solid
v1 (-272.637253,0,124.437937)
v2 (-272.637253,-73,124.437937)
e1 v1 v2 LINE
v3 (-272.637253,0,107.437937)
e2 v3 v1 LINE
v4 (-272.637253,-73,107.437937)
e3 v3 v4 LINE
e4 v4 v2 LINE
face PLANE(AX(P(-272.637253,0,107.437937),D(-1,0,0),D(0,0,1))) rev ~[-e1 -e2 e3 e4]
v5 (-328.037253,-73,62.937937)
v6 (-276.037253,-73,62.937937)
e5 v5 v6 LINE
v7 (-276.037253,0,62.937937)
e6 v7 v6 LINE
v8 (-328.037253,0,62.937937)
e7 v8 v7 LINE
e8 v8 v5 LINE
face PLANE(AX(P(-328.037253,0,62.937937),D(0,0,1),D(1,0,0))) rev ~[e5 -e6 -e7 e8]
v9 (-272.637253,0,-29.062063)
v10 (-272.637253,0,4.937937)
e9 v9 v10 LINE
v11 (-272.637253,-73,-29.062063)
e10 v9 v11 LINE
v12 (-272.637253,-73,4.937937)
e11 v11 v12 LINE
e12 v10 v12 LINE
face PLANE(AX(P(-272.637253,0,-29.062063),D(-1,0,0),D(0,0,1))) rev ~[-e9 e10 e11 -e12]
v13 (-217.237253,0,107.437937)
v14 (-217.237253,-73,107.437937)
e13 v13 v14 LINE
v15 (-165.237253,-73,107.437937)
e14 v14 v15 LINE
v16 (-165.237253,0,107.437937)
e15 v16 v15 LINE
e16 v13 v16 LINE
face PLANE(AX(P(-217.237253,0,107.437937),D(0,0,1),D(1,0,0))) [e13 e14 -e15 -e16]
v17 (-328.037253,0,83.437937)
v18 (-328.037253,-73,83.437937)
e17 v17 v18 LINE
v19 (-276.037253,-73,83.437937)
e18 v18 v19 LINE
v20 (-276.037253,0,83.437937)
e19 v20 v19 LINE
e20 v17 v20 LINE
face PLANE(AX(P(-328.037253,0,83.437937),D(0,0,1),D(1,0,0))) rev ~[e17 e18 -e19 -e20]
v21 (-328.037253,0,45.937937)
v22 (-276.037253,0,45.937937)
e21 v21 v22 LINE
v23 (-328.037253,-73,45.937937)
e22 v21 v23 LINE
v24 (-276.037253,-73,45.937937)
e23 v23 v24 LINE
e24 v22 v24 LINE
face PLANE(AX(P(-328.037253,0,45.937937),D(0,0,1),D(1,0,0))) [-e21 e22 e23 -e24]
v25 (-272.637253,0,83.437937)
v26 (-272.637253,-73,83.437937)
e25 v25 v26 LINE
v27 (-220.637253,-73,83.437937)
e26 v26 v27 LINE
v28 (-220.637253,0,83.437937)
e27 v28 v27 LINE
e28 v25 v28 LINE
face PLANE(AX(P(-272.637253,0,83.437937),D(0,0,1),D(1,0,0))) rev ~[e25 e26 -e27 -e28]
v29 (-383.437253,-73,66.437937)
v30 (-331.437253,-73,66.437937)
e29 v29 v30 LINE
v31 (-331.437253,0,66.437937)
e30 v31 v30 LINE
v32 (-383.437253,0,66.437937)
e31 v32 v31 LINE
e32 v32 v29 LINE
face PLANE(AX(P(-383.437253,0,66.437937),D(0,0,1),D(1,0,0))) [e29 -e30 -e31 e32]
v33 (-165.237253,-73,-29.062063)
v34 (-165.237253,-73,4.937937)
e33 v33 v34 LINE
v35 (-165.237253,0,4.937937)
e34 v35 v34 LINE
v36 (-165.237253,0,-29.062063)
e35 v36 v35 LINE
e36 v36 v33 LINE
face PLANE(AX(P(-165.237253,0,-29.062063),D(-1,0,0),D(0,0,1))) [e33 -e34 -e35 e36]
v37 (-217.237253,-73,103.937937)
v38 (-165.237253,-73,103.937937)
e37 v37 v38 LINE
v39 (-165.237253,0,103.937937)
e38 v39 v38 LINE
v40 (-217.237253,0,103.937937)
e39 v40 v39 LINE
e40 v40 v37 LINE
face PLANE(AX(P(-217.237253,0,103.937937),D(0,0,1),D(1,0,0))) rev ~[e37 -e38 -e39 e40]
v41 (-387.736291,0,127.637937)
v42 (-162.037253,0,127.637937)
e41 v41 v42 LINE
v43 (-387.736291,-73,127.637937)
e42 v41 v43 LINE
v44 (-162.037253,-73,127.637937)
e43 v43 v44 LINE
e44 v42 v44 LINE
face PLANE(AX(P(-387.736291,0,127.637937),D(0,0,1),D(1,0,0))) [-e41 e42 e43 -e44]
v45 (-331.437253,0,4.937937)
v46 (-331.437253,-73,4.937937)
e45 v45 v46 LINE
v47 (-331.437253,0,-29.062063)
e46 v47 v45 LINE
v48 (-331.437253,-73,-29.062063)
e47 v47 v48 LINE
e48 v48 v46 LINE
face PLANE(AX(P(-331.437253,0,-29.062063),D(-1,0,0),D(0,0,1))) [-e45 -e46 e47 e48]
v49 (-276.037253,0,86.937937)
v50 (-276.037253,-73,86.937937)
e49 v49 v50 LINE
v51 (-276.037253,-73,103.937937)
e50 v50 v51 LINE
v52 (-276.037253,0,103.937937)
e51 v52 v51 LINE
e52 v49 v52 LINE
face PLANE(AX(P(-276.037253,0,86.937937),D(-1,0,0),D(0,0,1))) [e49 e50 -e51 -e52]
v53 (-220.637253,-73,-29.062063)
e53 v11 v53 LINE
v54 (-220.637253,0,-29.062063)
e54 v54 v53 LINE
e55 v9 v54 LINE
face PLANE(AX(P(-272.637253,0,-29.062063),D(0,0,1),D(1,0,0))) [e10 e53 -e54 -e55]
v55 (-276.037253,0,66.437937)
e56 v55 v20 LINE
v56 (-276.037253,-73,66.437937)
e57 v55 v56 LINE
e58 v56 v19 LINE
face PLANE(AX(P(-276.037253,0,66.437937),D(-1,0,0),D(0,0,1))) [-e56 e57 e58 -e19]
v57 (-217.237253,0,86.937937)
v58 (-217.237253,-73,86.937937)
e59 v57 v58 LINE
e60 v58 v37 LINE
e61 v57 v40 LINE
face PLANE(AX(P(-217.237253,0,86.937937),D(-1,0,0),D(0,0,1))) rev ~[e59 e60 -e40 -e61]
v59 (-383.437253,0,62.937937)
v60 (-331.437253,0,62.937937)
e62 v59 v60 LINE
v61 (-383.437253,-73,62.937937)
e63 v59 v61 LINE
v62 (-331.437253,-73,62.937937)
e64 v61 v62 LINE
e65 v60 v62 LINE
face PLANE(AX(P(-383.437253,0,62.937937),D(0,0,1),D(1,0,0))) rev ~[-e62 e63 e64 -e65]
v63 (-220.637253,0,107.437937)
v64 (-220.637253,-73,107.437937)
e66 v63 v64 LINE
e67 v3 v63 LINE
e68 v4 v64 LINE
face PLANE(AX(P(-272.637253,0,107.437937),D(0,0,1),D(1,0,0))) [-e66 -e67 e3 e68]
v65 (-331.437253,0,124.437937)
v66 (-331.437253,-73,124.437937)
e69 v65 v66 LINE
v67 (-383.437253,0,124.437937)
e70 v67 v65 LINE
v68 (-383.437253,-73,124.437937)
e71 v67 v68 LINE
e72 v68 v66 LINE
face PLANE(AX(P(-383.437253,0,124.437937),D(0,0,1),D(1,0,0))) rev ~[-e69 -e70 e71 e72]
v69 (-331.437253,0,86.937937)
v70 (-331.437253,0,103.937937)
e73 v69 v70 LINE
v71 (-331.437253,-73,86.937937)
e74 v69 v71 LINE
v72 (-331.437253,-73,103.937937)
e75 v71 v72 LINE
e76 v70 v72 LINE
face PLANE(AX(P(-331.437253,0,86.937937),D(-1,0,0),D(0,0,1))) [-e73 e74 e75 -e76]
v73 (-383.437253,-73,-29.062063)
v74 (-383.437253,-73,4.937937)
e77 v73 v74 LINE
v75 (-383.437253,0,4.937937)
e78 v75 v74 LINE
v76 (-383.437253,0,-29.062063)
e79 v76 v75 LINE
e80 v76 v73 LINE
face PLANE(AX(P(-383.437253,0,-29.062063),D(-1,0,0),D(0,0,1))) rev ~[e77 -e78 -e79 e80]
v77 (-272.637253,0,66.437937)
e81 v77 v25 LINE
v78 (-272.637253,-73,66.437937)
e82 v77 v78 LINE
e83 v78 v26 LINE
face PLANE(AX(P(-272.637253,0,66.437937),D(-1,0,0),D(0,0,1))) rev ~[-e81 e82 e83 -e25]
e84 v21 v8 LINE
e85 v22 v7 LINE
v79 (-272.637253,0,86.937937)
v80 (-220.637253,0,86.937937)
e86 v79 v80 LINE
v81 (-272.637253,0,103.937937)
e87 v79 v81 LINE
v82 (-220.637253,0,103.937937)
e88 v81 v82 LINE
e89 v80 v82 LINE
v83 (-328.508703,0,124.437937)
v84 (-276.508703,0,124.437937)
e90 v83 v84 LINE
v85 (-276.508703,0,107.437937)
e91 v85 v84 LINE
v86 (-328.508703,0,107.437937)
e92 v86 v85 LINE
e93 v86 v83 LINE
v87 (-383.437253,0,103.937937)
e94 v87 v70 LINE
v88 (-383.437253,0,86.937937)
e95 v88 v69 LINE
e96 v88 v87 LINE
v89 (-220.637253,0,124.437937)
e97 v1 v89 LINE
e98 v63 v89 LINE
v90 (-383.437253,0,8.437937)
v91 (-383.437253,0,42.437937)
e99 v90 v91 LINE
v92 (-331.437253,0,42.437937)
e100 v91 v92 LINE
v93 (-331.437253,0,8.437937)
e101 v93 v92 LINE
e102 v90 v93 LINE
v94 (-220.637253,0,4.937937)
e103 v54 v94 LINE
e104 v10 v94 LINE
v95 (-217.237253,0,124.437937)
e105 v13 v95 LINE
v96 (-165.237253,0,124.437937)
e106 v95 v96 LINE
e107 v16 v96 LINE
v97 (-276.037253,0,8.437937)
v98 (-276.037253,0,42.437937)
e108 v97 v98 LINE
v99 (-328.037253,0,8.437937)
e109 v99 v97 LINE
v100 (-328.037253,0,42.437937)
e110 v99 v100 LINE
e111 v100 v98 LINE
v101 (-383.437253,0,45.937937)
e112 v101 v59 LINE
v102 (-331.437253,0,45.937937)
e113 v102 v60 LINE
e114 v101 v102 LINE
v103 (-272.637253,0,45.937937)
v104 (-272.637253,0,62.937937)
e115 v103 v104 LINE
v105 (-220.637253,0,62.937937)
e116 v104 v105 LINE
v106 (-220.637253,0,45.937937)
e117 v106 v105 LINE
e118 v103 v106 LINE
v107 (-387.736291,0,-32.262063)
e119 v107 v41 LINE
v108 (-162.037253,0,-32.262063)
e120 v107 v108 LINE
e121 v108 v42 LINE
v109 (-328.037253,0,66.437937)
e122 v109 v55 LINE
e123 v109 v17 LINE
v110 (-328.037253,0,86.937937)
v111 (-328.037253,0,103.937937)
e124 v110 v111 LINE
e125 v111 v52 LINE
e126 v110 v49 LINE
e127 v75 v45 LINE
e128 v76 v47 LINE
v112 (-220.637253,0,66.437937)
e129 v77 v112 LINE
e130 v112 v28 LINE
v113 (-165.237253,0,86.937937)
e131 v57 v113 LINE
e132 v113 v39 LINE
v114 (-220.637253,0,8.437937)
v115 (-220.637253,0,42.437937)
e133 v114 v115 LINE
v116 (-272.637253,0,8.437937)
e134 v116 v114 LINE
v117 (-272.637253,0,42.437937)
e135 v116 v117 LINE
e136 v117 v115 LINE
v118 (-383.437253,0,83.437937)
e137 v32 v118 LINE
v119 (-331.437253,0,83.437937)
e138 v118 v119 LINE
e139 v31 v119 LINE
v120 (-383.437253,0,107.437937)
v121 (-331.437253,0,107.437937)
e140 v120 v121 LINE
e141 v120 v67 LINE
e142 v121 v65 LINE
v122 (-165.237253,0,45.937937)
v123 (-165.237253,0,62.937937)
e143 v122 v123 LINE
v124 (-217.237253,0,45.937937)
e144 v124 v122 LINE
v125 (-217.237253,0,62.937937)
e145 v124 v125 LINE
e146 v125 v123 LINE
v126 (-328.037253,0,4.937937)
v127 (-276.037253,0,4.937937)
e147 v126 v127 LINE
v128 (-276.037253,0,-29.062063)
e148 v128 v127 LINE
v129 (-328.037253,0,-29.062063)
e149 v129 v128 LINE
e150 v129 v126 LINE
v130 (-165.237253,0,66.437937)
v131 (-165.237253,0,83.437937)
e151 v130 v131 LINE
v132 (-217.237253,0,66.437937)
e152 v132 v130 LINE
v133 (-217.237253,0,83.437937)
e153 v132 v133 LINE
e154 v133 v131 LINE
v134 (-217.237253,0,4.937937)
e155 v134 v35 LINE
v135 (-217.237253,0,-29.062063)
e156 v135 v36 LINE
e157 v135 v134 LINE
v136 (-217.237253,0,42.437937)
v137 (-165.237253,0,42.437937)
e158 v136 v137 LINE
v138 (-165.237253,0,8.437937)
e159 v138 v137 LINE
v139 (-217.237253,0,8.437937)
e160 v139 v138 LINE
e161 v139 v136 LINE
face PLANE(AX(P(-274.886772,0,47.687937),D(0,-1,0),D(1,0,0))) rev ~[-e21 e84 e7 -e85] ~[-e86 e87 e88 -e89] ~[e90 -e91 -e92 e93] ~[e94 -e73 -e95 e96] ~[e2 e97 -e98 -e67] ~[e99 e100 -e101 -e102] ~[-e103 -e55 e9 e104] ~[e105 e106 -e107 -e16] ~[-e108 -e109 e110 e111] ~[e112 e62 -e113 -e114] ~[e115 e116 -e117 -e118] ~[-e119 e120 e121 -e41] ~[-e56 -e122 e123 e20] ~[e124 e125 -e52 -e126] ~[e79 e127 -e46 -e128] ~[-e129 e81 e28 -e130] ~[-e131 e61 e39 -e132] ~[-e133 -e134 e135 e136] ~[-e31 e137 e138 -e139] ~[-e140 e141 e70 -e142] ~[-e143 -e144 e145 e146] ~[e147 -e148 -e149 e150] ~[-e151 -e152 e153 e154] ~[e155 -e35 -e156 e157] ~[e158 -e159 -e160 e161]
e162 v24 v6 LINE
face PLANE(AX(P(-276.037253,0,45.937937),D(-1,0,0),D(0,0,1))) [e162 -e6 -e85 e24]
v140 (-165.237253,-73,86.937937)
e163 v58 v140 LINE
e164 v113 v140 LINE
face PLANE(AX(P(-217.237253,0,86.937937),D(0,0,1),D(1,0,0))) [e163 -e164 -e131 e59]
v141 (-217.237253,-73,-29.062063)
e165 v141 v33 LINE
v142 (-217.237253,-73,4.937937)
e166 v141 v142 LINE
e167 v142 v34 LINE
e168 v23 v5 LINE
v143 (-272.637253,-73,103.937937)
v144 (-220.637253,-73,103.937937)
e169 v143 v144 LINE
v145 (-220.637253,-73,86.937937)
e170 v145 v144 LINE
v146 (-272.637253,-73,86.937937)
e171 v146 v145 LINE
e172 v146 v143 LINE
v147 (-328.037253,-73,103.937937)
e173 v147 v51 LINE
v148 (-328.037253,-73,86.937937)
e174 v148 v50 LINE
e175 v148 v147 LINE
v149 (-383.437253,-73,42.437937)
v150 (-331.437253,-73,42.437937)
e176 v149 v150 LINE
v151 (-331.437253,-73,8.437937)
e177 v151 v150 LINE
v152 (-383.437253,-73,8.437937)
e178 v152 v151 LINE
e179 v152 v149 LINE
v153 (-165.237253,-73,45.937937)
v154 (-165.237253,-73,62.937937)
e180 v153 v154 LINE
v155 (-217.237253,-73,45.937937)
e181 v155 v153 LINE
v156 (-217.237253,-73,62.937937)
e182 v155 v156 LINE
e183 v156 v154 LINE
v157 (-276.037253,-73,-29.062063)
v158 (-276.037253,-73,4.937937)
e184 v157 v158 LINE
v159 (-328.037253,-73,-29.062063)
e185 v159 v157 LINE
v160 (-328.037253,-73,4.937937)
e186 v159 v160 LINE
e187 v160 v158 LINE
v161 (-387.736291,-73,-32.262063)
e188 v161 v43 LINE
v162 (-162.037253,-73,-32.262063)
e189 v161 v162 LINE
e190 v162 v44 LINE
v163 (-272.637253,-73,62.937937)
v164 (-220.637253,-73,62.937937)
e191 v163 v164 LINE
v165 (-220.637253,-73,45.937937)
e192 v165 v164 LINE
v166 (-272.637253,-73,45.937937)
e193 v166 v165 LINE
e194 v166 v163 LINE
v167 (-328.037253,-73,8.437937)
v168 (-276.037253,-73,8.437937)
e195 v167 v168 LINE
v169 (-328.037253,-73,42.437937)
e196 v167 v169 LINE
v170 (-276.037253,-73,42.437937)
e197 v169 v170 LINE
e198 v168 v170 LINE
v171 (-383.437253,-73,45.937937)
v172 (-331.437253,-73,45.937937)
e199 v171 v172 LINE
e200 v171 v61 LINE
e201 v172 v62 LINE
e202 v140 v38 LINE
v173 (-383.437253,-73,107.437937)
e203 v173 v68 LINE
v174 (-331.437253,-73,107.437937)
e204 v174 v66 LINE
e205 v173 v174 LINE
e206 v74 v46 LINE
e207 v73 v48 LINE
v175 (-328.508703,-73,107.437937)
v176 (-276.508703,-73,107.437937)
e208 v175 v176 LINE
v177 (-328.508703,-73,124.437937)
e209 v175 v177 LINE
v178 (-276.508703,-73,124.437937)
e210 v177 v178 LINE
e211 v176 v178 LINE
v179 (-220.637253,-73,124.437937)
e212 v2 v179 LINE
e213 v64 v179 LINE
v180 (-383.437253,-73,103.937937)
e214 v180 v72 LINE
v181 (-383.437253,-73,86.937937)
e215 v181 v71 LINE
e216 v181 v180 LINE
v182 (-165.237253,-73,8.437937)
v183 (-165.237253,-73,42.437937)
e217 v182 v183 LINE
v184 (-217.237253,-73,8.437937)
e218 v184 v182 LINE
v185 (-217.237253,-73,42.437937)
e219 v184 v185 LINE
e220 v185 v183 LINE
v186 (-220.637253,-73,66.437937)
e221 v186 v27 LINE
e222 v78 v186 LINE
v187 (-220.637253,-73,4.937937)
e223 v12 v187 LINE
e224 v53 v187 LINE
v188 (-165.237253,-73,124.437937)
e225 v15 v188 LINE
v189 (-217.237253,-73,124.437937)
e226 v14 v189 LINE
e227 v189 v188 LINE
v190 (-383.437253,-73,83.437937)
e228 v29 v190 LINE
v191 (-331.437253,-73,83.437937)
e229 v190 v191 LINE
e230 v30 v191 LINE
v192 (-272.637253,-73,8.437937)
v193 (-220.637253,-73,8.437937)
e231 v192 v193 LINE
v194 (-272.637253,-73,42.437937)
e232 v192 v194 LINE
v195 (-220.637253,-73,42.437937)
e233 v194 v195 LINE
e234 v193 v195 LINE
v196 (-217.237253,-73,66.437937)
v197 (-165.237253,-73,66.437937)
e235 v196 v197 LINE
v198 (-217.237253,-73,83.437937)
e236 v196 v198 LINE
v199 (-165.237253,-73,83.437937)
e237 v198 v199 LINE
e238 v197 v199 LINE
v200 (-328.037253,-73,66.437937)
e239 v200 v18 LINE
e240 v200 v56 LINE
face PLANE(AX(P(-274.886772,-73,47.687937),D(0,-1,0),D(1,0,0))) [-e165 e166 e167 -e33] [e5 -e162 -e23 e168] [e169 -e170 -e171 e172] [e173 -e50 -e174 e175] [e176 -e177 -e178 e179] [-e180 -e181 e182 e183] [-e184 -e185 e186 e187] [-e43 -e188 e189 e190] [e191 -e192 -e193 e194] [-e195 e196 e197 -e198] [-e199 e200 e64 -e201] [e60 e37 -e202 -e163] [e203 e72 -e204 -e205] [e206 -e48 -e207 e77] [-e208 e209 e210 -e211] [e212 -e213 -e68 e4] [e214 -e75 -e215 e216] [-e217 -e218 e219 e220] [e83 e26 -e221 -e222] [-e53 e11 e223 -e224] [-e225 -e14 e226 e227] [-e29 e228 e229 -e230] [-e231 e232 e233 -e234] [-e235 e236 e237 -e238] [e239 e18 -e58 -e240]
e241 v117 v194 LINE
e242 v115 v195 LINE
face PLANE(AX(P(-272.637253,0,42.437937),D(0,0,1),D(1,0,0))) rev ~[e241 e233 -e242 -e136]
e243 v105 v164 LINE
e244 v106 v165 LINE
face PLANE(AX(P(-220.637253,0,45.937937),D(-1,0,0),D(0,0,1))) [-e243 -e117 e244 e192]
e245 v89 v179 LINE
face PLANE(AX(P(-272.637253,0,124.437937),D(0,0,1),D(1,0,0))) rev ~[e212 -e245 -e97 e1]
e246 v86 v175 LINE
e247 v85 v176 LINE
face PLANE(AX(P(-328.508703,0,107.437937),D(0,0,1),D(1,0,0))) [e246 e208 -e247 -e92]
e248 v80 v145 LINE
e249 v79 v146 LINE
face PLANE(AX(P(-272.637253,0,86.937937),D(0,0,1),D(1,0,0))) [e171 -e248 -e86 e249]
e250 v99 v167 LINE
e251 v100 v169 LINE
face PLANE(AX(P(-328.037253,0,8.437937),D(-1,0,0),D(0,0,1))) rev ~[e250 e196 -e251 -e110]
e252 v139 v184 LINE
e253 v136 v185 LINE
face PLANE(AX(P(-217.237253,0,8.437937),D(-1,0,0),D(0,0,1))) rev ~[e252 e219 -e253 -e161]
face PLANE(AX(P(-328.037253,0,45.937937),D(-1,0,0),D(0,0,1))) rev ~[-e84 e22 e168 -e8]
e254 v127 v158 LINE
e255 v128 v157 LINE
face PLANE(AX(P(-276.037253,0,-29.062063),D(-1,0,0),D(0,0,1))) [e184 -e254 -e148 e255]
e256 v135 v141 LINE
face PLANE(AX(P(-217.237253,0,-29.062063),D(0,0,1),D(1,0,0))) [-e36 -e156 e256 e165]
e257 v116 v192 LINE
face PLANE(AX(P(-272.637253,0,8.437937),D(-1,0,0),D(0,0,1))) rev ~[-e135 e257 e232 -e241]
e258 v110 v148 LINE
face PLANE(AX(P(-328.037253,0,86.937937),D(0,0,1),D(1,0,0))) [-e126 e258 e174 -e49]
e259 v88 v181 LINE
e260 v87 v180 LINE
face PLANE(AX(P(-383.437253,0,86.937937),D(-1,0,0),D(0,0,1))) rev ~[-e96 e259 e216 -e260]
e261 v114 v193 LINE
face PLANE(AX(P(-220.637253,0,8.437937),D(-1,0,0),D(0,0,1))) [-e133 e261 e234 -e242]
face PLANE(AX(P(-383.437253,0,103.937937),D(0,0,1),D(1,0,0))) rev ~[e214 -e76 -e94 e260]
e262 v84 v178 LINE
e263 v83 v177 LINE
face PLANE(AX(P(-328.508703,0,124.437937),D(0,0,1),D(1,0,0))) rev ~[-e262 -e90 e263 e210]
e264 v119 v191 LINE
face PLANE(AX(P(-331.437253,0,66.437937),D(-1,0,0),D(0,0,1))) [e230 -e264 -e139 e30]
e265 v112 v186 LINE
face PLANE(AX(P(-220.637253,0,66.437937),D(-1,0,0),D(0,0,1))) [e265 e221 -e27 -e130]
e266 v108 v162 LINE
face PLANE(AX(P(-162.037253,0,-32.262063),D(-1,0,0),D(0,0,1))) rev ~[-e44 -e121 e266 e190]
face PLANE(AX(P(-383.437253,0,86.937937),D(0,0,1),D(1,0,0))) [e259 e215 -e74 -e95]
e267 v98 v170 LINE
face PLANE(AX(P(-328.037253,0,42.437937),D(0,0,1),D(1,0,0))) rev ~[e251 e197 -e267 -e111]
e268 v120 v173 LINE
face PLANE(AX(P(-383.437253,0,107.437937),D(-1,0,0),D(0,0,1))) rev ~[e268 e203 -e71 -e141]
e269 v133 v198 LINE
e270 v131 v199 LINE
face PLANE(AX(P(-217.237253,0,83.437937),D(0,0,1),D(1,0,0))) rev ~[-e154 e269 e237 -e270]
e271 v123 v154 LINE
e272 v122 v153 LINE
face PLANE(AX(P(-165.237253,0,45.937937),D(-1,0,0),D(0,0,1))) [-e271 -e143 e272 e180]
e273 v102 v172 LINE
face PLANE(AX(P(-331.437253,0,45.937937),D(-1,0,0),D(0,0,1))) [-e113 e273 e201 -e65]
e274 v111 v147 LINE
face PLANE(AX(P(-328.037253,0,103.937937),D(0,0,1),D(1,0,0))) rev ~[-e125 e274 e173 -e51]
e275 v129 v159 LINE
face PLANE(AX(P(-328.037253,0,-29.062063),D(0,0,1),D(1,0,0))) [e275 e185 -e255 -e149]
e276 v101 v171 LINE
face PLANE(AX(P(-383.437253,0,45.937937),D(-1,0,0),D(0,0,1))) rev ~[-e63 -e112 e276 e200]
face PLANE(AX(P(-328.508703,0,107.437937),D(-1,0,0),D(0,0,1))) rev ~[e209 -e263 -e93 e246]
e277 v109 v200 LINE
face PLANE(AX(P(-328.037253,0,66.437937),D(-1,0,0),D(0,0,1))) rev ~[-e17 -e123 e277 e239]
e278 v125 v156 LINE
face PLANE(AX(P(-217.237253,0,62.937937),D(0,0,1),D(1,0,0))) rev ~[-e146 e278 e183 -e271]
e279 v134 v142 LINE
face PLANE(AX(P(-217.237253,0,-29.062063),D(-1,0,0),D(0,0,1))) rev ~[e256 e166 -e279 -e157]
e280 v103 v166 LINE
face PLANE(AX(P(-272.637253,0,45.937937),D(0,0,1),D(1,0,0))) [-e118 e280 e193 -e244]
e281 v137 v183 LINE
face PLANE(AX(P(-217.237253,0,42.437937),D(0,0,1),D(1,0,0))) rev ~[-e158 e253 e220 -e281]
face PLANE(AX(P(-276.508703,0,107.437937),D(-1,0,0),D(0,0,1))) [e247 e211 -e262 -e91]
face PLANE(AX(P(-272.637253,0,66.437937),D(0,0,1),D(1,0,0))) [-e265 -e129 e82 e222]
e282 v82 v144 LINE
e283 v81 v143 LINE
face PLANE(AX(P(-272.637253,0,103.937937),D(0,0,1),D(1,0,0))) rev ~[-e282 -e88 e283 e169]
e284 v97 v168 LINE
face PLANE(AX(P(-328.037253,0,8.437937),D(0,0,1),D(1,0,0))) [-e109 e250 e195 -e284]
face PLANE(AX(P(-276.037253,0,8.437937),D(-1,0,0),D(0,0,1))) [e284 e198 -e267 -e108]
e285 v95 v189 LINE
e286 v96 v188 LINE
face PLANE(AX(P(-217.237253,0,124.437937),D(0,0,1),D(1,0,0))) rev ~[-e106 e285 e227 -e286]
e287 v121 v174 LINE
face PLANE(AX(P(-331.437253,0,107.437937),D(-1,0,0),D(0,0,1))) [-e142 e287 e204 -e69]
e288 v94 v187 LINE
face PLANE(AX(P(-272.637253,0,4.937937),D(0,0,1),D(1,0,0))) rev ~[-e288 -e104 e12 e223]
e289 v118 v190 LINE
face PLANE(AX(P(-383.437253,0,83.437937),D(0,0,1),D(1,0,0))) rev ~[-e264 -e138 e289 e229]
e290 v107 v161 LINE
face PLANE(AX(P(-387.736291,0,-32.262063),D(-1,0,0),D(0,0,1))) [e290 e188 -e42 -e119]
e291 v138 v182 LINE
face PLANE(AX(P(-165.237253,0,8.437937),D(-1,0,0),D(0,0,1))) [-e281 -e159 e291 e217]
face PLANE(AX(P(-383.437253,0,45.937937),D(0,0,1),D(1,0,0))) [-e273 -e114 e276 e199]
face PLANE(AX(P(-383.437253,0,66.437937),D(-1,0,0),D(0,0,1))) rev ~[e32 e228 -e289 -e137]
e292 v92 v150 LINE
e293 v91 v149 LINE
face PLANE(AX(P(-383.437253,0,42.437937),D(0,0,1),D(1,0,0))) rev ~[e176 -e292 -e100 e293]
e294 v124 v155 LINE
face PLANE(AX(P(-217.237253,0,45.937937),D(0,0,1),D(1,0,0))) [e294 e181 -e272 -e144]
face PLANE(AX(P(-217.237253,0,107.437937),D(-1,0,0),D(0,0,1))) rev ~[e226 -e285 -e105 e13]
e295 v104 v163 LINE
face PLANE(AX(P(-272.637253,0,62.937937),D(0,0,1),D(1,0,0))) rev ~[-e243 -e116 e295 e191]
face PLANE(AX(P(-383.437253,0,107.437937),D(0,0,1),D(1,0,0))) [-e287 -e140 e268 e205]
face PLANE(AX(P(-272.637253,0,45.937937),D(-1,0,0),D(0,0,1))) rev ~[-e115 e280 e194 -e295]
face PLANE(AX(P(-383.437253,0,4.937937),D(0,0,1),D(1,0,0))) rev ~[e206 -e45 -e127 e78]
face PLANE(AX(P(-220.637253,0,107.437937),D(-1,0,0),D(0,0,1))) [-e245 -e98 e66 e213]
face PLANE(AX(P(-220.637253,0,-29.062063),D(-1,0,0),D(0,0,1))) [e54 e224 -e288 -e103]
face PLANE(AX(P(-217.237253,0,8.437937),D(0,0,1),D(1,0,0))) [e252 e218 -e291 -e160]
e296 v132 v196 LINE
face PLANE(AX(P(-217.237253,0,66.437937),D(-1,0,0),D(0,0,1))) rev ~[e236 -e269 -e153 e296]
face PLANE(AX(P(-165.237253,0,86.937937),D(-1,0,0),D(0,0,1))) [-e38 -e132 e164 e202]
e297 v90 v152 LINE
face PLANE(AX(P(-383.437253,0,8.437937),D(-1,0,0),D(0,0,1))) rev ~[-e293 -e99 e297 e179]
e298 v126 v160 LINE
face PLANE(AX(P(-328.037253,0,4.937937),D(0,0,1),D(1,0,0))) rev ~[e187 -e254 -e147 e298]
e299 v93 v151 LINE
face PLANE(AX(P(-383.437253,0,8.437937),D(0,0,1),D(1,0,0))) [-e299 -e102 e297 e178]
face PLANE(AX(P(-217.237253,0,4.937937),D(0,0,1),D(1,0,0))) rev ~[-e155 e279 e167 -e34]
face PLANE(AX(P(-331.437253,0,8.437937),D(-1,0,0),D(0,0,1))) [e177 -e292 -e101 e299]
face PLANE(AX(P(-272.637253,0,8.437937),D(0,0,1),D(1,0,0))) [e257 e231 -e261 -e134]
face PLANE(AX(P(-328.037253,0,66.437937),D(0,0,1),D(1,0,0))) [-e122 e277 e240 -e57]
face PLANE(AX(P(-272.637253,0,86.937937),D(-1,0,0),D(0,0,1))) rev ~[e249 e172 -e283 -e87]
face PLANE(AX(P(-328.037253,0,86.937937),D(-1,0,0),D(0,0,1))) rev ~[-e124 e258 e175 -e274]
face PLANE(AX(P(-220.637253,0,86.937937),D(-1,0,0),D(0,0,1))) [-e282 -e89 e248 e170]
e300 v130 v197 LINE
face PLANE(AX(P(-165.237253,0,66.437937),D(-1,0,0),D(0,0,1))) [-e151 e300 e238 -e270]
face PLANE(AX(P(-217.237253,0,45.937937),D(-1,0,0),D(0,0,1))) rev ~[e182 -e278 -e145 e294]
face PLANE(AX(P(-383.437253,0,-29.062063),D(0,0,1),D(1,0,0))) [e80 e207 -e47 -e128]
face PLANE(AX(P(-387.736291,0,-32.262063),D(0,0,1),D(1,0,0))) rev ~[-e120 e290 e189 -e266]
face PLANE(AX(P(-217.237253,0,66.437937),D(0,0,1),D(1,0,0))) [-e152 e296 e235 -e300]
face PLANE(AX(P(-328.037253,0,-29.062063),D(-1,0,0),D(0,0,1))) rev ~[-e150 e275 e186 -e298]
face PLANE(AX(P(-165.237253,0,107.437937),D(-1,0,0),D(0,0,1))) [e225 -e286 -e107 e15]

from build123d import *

# Parameters (mm, degrees)
F0_W     = 225.699038
F0_H     = 159.9
F0_W_2   = 52
F0_H_2   = 34
F0_H_3   = 17
F1_DEPTH = 73


with BuildPart() as f1:
    # F0 (on Front) → F1 (new body)
    with BuildSketch(Plane.XZ):
        with Locations((-274.886772, 47.687937)):
            Rectangle(F0_W, F0_H)
        with Locations((-357.437253, -12.062063)):
            Rectangle(F0_W_2, F0_H_2, mode=Mode.SUBTRACT)
        with Locations((-302.037253, -12.062063)):
            Rectangle(F0_W_2, F0_H_2, mode=Mode.SUBTRACT)
        with Locations((-357.437253, 25.437937)):
            Rectangle(F0_W_2, F0_H_2, mode=Mode.SUBTRACT)
        with Locations((-302.037253, 25.437937)):
            Rectangle(F0_W_2, F0_H_2, mode=Mode.SUBTRACT)
        with Locations((-246.637253, -12.062063)):
            Rectangle(F0_W_2, F0_H_2, mode=Mode.SUBTRACT)
        with Locations((-191.237253, -12.062063)):
            Rectangle(F0_W_2, F0_H_2, mode=Mode.SUBTRACT)
        with Locations((-246.637253, 25.437937)):
            Rectangle(F0_W_2, F0_H_2, mode=Mode.SUBTRACT)
        with Locations((-191.237253, 25.437937)):
            Rectangle(F0_W_2, F0_H_2, mode=Mode.SUBTRACT)
        with Locations((-357.437253, 54.437937)):
            Rectangle(F0_W_2, F0_H_3, mode=Mode.SUBTRACT)
        with Locations((-357.437253, 74.937937)):
            Rectangle(F0_W_2, F0_H_3, mode=Mode.SUBTRACT)
        with Locations((-302.037253, 54.437937)):
            Rectangle(F0_W_2, F0_H_3, mode=Mode.SUBTRACT)
        with Locations((-302.037253, 74.937937)):
            Rectangle(F0_W_2, F0_H_3, mode=Mode.SUBTRACT)
        with Locations((-357.437253, 95.437937)):
            Rectangle(F0_W_2, F0_H_3, mode=Mode.SUBTRACT)
        with Locations((-357.437253, 115.937937)):
            Rectangle(F0_W_2, F0_H_3, mode=Mode.SUBTRACT)
        with Locations((-302.037253, 95.437937)):
            Rectangle(F0_W_2, F0_H_3, mode=Mode.SUBTRACT)
        with Locations((-302.508703, 115.937937)):
            Rectangle(F0_W_2, F0_H_3, mode=Mode.SUBTRACT)
        with Locations((-246.637253, 54.437937)):
            Rectangle(F0_W_2, F0_H_3, mode=Mode.SUBTRACT)
        with Locations((-246.637253, 74.937937)):
            Rectangle(F0_W_2, F0_H_3, mode=Mode.SUBTRACT)
        with Locations((-191.237253, 54.437937)):
            Rectangle(F0_W_2, F0_H_3, mode=Mode.SUBTRACT)
        with Locations((-191.237253, 74.937937)):
            Rectangle(F0_W_2, F0_H_3, mode=Mode.SUBTRACT)
        with Locations((-246.637253, 95.437937)):
            Rectangle(F0_W_2, F0_H_3, mode=Mode.SUBTRACT)
        with Locations((-246.637253, 115.937937)):
            Rectangle(F0_W_2, F0_H_3, mode=Mode.SUBTRACT)
        with Locations((-191.237253, 95.437937)):
            Rectangle(F0_W_2, F0_H_3, mode=Mode.SUBTRACT)
        with Locations((-191.237253, 115.937937)):
            Rectangle(F0_W_2, F0_H_3, mode=Mode.SUBTRACT)
    extrude(amount=F1_DEPTH)


solid = f1.part
